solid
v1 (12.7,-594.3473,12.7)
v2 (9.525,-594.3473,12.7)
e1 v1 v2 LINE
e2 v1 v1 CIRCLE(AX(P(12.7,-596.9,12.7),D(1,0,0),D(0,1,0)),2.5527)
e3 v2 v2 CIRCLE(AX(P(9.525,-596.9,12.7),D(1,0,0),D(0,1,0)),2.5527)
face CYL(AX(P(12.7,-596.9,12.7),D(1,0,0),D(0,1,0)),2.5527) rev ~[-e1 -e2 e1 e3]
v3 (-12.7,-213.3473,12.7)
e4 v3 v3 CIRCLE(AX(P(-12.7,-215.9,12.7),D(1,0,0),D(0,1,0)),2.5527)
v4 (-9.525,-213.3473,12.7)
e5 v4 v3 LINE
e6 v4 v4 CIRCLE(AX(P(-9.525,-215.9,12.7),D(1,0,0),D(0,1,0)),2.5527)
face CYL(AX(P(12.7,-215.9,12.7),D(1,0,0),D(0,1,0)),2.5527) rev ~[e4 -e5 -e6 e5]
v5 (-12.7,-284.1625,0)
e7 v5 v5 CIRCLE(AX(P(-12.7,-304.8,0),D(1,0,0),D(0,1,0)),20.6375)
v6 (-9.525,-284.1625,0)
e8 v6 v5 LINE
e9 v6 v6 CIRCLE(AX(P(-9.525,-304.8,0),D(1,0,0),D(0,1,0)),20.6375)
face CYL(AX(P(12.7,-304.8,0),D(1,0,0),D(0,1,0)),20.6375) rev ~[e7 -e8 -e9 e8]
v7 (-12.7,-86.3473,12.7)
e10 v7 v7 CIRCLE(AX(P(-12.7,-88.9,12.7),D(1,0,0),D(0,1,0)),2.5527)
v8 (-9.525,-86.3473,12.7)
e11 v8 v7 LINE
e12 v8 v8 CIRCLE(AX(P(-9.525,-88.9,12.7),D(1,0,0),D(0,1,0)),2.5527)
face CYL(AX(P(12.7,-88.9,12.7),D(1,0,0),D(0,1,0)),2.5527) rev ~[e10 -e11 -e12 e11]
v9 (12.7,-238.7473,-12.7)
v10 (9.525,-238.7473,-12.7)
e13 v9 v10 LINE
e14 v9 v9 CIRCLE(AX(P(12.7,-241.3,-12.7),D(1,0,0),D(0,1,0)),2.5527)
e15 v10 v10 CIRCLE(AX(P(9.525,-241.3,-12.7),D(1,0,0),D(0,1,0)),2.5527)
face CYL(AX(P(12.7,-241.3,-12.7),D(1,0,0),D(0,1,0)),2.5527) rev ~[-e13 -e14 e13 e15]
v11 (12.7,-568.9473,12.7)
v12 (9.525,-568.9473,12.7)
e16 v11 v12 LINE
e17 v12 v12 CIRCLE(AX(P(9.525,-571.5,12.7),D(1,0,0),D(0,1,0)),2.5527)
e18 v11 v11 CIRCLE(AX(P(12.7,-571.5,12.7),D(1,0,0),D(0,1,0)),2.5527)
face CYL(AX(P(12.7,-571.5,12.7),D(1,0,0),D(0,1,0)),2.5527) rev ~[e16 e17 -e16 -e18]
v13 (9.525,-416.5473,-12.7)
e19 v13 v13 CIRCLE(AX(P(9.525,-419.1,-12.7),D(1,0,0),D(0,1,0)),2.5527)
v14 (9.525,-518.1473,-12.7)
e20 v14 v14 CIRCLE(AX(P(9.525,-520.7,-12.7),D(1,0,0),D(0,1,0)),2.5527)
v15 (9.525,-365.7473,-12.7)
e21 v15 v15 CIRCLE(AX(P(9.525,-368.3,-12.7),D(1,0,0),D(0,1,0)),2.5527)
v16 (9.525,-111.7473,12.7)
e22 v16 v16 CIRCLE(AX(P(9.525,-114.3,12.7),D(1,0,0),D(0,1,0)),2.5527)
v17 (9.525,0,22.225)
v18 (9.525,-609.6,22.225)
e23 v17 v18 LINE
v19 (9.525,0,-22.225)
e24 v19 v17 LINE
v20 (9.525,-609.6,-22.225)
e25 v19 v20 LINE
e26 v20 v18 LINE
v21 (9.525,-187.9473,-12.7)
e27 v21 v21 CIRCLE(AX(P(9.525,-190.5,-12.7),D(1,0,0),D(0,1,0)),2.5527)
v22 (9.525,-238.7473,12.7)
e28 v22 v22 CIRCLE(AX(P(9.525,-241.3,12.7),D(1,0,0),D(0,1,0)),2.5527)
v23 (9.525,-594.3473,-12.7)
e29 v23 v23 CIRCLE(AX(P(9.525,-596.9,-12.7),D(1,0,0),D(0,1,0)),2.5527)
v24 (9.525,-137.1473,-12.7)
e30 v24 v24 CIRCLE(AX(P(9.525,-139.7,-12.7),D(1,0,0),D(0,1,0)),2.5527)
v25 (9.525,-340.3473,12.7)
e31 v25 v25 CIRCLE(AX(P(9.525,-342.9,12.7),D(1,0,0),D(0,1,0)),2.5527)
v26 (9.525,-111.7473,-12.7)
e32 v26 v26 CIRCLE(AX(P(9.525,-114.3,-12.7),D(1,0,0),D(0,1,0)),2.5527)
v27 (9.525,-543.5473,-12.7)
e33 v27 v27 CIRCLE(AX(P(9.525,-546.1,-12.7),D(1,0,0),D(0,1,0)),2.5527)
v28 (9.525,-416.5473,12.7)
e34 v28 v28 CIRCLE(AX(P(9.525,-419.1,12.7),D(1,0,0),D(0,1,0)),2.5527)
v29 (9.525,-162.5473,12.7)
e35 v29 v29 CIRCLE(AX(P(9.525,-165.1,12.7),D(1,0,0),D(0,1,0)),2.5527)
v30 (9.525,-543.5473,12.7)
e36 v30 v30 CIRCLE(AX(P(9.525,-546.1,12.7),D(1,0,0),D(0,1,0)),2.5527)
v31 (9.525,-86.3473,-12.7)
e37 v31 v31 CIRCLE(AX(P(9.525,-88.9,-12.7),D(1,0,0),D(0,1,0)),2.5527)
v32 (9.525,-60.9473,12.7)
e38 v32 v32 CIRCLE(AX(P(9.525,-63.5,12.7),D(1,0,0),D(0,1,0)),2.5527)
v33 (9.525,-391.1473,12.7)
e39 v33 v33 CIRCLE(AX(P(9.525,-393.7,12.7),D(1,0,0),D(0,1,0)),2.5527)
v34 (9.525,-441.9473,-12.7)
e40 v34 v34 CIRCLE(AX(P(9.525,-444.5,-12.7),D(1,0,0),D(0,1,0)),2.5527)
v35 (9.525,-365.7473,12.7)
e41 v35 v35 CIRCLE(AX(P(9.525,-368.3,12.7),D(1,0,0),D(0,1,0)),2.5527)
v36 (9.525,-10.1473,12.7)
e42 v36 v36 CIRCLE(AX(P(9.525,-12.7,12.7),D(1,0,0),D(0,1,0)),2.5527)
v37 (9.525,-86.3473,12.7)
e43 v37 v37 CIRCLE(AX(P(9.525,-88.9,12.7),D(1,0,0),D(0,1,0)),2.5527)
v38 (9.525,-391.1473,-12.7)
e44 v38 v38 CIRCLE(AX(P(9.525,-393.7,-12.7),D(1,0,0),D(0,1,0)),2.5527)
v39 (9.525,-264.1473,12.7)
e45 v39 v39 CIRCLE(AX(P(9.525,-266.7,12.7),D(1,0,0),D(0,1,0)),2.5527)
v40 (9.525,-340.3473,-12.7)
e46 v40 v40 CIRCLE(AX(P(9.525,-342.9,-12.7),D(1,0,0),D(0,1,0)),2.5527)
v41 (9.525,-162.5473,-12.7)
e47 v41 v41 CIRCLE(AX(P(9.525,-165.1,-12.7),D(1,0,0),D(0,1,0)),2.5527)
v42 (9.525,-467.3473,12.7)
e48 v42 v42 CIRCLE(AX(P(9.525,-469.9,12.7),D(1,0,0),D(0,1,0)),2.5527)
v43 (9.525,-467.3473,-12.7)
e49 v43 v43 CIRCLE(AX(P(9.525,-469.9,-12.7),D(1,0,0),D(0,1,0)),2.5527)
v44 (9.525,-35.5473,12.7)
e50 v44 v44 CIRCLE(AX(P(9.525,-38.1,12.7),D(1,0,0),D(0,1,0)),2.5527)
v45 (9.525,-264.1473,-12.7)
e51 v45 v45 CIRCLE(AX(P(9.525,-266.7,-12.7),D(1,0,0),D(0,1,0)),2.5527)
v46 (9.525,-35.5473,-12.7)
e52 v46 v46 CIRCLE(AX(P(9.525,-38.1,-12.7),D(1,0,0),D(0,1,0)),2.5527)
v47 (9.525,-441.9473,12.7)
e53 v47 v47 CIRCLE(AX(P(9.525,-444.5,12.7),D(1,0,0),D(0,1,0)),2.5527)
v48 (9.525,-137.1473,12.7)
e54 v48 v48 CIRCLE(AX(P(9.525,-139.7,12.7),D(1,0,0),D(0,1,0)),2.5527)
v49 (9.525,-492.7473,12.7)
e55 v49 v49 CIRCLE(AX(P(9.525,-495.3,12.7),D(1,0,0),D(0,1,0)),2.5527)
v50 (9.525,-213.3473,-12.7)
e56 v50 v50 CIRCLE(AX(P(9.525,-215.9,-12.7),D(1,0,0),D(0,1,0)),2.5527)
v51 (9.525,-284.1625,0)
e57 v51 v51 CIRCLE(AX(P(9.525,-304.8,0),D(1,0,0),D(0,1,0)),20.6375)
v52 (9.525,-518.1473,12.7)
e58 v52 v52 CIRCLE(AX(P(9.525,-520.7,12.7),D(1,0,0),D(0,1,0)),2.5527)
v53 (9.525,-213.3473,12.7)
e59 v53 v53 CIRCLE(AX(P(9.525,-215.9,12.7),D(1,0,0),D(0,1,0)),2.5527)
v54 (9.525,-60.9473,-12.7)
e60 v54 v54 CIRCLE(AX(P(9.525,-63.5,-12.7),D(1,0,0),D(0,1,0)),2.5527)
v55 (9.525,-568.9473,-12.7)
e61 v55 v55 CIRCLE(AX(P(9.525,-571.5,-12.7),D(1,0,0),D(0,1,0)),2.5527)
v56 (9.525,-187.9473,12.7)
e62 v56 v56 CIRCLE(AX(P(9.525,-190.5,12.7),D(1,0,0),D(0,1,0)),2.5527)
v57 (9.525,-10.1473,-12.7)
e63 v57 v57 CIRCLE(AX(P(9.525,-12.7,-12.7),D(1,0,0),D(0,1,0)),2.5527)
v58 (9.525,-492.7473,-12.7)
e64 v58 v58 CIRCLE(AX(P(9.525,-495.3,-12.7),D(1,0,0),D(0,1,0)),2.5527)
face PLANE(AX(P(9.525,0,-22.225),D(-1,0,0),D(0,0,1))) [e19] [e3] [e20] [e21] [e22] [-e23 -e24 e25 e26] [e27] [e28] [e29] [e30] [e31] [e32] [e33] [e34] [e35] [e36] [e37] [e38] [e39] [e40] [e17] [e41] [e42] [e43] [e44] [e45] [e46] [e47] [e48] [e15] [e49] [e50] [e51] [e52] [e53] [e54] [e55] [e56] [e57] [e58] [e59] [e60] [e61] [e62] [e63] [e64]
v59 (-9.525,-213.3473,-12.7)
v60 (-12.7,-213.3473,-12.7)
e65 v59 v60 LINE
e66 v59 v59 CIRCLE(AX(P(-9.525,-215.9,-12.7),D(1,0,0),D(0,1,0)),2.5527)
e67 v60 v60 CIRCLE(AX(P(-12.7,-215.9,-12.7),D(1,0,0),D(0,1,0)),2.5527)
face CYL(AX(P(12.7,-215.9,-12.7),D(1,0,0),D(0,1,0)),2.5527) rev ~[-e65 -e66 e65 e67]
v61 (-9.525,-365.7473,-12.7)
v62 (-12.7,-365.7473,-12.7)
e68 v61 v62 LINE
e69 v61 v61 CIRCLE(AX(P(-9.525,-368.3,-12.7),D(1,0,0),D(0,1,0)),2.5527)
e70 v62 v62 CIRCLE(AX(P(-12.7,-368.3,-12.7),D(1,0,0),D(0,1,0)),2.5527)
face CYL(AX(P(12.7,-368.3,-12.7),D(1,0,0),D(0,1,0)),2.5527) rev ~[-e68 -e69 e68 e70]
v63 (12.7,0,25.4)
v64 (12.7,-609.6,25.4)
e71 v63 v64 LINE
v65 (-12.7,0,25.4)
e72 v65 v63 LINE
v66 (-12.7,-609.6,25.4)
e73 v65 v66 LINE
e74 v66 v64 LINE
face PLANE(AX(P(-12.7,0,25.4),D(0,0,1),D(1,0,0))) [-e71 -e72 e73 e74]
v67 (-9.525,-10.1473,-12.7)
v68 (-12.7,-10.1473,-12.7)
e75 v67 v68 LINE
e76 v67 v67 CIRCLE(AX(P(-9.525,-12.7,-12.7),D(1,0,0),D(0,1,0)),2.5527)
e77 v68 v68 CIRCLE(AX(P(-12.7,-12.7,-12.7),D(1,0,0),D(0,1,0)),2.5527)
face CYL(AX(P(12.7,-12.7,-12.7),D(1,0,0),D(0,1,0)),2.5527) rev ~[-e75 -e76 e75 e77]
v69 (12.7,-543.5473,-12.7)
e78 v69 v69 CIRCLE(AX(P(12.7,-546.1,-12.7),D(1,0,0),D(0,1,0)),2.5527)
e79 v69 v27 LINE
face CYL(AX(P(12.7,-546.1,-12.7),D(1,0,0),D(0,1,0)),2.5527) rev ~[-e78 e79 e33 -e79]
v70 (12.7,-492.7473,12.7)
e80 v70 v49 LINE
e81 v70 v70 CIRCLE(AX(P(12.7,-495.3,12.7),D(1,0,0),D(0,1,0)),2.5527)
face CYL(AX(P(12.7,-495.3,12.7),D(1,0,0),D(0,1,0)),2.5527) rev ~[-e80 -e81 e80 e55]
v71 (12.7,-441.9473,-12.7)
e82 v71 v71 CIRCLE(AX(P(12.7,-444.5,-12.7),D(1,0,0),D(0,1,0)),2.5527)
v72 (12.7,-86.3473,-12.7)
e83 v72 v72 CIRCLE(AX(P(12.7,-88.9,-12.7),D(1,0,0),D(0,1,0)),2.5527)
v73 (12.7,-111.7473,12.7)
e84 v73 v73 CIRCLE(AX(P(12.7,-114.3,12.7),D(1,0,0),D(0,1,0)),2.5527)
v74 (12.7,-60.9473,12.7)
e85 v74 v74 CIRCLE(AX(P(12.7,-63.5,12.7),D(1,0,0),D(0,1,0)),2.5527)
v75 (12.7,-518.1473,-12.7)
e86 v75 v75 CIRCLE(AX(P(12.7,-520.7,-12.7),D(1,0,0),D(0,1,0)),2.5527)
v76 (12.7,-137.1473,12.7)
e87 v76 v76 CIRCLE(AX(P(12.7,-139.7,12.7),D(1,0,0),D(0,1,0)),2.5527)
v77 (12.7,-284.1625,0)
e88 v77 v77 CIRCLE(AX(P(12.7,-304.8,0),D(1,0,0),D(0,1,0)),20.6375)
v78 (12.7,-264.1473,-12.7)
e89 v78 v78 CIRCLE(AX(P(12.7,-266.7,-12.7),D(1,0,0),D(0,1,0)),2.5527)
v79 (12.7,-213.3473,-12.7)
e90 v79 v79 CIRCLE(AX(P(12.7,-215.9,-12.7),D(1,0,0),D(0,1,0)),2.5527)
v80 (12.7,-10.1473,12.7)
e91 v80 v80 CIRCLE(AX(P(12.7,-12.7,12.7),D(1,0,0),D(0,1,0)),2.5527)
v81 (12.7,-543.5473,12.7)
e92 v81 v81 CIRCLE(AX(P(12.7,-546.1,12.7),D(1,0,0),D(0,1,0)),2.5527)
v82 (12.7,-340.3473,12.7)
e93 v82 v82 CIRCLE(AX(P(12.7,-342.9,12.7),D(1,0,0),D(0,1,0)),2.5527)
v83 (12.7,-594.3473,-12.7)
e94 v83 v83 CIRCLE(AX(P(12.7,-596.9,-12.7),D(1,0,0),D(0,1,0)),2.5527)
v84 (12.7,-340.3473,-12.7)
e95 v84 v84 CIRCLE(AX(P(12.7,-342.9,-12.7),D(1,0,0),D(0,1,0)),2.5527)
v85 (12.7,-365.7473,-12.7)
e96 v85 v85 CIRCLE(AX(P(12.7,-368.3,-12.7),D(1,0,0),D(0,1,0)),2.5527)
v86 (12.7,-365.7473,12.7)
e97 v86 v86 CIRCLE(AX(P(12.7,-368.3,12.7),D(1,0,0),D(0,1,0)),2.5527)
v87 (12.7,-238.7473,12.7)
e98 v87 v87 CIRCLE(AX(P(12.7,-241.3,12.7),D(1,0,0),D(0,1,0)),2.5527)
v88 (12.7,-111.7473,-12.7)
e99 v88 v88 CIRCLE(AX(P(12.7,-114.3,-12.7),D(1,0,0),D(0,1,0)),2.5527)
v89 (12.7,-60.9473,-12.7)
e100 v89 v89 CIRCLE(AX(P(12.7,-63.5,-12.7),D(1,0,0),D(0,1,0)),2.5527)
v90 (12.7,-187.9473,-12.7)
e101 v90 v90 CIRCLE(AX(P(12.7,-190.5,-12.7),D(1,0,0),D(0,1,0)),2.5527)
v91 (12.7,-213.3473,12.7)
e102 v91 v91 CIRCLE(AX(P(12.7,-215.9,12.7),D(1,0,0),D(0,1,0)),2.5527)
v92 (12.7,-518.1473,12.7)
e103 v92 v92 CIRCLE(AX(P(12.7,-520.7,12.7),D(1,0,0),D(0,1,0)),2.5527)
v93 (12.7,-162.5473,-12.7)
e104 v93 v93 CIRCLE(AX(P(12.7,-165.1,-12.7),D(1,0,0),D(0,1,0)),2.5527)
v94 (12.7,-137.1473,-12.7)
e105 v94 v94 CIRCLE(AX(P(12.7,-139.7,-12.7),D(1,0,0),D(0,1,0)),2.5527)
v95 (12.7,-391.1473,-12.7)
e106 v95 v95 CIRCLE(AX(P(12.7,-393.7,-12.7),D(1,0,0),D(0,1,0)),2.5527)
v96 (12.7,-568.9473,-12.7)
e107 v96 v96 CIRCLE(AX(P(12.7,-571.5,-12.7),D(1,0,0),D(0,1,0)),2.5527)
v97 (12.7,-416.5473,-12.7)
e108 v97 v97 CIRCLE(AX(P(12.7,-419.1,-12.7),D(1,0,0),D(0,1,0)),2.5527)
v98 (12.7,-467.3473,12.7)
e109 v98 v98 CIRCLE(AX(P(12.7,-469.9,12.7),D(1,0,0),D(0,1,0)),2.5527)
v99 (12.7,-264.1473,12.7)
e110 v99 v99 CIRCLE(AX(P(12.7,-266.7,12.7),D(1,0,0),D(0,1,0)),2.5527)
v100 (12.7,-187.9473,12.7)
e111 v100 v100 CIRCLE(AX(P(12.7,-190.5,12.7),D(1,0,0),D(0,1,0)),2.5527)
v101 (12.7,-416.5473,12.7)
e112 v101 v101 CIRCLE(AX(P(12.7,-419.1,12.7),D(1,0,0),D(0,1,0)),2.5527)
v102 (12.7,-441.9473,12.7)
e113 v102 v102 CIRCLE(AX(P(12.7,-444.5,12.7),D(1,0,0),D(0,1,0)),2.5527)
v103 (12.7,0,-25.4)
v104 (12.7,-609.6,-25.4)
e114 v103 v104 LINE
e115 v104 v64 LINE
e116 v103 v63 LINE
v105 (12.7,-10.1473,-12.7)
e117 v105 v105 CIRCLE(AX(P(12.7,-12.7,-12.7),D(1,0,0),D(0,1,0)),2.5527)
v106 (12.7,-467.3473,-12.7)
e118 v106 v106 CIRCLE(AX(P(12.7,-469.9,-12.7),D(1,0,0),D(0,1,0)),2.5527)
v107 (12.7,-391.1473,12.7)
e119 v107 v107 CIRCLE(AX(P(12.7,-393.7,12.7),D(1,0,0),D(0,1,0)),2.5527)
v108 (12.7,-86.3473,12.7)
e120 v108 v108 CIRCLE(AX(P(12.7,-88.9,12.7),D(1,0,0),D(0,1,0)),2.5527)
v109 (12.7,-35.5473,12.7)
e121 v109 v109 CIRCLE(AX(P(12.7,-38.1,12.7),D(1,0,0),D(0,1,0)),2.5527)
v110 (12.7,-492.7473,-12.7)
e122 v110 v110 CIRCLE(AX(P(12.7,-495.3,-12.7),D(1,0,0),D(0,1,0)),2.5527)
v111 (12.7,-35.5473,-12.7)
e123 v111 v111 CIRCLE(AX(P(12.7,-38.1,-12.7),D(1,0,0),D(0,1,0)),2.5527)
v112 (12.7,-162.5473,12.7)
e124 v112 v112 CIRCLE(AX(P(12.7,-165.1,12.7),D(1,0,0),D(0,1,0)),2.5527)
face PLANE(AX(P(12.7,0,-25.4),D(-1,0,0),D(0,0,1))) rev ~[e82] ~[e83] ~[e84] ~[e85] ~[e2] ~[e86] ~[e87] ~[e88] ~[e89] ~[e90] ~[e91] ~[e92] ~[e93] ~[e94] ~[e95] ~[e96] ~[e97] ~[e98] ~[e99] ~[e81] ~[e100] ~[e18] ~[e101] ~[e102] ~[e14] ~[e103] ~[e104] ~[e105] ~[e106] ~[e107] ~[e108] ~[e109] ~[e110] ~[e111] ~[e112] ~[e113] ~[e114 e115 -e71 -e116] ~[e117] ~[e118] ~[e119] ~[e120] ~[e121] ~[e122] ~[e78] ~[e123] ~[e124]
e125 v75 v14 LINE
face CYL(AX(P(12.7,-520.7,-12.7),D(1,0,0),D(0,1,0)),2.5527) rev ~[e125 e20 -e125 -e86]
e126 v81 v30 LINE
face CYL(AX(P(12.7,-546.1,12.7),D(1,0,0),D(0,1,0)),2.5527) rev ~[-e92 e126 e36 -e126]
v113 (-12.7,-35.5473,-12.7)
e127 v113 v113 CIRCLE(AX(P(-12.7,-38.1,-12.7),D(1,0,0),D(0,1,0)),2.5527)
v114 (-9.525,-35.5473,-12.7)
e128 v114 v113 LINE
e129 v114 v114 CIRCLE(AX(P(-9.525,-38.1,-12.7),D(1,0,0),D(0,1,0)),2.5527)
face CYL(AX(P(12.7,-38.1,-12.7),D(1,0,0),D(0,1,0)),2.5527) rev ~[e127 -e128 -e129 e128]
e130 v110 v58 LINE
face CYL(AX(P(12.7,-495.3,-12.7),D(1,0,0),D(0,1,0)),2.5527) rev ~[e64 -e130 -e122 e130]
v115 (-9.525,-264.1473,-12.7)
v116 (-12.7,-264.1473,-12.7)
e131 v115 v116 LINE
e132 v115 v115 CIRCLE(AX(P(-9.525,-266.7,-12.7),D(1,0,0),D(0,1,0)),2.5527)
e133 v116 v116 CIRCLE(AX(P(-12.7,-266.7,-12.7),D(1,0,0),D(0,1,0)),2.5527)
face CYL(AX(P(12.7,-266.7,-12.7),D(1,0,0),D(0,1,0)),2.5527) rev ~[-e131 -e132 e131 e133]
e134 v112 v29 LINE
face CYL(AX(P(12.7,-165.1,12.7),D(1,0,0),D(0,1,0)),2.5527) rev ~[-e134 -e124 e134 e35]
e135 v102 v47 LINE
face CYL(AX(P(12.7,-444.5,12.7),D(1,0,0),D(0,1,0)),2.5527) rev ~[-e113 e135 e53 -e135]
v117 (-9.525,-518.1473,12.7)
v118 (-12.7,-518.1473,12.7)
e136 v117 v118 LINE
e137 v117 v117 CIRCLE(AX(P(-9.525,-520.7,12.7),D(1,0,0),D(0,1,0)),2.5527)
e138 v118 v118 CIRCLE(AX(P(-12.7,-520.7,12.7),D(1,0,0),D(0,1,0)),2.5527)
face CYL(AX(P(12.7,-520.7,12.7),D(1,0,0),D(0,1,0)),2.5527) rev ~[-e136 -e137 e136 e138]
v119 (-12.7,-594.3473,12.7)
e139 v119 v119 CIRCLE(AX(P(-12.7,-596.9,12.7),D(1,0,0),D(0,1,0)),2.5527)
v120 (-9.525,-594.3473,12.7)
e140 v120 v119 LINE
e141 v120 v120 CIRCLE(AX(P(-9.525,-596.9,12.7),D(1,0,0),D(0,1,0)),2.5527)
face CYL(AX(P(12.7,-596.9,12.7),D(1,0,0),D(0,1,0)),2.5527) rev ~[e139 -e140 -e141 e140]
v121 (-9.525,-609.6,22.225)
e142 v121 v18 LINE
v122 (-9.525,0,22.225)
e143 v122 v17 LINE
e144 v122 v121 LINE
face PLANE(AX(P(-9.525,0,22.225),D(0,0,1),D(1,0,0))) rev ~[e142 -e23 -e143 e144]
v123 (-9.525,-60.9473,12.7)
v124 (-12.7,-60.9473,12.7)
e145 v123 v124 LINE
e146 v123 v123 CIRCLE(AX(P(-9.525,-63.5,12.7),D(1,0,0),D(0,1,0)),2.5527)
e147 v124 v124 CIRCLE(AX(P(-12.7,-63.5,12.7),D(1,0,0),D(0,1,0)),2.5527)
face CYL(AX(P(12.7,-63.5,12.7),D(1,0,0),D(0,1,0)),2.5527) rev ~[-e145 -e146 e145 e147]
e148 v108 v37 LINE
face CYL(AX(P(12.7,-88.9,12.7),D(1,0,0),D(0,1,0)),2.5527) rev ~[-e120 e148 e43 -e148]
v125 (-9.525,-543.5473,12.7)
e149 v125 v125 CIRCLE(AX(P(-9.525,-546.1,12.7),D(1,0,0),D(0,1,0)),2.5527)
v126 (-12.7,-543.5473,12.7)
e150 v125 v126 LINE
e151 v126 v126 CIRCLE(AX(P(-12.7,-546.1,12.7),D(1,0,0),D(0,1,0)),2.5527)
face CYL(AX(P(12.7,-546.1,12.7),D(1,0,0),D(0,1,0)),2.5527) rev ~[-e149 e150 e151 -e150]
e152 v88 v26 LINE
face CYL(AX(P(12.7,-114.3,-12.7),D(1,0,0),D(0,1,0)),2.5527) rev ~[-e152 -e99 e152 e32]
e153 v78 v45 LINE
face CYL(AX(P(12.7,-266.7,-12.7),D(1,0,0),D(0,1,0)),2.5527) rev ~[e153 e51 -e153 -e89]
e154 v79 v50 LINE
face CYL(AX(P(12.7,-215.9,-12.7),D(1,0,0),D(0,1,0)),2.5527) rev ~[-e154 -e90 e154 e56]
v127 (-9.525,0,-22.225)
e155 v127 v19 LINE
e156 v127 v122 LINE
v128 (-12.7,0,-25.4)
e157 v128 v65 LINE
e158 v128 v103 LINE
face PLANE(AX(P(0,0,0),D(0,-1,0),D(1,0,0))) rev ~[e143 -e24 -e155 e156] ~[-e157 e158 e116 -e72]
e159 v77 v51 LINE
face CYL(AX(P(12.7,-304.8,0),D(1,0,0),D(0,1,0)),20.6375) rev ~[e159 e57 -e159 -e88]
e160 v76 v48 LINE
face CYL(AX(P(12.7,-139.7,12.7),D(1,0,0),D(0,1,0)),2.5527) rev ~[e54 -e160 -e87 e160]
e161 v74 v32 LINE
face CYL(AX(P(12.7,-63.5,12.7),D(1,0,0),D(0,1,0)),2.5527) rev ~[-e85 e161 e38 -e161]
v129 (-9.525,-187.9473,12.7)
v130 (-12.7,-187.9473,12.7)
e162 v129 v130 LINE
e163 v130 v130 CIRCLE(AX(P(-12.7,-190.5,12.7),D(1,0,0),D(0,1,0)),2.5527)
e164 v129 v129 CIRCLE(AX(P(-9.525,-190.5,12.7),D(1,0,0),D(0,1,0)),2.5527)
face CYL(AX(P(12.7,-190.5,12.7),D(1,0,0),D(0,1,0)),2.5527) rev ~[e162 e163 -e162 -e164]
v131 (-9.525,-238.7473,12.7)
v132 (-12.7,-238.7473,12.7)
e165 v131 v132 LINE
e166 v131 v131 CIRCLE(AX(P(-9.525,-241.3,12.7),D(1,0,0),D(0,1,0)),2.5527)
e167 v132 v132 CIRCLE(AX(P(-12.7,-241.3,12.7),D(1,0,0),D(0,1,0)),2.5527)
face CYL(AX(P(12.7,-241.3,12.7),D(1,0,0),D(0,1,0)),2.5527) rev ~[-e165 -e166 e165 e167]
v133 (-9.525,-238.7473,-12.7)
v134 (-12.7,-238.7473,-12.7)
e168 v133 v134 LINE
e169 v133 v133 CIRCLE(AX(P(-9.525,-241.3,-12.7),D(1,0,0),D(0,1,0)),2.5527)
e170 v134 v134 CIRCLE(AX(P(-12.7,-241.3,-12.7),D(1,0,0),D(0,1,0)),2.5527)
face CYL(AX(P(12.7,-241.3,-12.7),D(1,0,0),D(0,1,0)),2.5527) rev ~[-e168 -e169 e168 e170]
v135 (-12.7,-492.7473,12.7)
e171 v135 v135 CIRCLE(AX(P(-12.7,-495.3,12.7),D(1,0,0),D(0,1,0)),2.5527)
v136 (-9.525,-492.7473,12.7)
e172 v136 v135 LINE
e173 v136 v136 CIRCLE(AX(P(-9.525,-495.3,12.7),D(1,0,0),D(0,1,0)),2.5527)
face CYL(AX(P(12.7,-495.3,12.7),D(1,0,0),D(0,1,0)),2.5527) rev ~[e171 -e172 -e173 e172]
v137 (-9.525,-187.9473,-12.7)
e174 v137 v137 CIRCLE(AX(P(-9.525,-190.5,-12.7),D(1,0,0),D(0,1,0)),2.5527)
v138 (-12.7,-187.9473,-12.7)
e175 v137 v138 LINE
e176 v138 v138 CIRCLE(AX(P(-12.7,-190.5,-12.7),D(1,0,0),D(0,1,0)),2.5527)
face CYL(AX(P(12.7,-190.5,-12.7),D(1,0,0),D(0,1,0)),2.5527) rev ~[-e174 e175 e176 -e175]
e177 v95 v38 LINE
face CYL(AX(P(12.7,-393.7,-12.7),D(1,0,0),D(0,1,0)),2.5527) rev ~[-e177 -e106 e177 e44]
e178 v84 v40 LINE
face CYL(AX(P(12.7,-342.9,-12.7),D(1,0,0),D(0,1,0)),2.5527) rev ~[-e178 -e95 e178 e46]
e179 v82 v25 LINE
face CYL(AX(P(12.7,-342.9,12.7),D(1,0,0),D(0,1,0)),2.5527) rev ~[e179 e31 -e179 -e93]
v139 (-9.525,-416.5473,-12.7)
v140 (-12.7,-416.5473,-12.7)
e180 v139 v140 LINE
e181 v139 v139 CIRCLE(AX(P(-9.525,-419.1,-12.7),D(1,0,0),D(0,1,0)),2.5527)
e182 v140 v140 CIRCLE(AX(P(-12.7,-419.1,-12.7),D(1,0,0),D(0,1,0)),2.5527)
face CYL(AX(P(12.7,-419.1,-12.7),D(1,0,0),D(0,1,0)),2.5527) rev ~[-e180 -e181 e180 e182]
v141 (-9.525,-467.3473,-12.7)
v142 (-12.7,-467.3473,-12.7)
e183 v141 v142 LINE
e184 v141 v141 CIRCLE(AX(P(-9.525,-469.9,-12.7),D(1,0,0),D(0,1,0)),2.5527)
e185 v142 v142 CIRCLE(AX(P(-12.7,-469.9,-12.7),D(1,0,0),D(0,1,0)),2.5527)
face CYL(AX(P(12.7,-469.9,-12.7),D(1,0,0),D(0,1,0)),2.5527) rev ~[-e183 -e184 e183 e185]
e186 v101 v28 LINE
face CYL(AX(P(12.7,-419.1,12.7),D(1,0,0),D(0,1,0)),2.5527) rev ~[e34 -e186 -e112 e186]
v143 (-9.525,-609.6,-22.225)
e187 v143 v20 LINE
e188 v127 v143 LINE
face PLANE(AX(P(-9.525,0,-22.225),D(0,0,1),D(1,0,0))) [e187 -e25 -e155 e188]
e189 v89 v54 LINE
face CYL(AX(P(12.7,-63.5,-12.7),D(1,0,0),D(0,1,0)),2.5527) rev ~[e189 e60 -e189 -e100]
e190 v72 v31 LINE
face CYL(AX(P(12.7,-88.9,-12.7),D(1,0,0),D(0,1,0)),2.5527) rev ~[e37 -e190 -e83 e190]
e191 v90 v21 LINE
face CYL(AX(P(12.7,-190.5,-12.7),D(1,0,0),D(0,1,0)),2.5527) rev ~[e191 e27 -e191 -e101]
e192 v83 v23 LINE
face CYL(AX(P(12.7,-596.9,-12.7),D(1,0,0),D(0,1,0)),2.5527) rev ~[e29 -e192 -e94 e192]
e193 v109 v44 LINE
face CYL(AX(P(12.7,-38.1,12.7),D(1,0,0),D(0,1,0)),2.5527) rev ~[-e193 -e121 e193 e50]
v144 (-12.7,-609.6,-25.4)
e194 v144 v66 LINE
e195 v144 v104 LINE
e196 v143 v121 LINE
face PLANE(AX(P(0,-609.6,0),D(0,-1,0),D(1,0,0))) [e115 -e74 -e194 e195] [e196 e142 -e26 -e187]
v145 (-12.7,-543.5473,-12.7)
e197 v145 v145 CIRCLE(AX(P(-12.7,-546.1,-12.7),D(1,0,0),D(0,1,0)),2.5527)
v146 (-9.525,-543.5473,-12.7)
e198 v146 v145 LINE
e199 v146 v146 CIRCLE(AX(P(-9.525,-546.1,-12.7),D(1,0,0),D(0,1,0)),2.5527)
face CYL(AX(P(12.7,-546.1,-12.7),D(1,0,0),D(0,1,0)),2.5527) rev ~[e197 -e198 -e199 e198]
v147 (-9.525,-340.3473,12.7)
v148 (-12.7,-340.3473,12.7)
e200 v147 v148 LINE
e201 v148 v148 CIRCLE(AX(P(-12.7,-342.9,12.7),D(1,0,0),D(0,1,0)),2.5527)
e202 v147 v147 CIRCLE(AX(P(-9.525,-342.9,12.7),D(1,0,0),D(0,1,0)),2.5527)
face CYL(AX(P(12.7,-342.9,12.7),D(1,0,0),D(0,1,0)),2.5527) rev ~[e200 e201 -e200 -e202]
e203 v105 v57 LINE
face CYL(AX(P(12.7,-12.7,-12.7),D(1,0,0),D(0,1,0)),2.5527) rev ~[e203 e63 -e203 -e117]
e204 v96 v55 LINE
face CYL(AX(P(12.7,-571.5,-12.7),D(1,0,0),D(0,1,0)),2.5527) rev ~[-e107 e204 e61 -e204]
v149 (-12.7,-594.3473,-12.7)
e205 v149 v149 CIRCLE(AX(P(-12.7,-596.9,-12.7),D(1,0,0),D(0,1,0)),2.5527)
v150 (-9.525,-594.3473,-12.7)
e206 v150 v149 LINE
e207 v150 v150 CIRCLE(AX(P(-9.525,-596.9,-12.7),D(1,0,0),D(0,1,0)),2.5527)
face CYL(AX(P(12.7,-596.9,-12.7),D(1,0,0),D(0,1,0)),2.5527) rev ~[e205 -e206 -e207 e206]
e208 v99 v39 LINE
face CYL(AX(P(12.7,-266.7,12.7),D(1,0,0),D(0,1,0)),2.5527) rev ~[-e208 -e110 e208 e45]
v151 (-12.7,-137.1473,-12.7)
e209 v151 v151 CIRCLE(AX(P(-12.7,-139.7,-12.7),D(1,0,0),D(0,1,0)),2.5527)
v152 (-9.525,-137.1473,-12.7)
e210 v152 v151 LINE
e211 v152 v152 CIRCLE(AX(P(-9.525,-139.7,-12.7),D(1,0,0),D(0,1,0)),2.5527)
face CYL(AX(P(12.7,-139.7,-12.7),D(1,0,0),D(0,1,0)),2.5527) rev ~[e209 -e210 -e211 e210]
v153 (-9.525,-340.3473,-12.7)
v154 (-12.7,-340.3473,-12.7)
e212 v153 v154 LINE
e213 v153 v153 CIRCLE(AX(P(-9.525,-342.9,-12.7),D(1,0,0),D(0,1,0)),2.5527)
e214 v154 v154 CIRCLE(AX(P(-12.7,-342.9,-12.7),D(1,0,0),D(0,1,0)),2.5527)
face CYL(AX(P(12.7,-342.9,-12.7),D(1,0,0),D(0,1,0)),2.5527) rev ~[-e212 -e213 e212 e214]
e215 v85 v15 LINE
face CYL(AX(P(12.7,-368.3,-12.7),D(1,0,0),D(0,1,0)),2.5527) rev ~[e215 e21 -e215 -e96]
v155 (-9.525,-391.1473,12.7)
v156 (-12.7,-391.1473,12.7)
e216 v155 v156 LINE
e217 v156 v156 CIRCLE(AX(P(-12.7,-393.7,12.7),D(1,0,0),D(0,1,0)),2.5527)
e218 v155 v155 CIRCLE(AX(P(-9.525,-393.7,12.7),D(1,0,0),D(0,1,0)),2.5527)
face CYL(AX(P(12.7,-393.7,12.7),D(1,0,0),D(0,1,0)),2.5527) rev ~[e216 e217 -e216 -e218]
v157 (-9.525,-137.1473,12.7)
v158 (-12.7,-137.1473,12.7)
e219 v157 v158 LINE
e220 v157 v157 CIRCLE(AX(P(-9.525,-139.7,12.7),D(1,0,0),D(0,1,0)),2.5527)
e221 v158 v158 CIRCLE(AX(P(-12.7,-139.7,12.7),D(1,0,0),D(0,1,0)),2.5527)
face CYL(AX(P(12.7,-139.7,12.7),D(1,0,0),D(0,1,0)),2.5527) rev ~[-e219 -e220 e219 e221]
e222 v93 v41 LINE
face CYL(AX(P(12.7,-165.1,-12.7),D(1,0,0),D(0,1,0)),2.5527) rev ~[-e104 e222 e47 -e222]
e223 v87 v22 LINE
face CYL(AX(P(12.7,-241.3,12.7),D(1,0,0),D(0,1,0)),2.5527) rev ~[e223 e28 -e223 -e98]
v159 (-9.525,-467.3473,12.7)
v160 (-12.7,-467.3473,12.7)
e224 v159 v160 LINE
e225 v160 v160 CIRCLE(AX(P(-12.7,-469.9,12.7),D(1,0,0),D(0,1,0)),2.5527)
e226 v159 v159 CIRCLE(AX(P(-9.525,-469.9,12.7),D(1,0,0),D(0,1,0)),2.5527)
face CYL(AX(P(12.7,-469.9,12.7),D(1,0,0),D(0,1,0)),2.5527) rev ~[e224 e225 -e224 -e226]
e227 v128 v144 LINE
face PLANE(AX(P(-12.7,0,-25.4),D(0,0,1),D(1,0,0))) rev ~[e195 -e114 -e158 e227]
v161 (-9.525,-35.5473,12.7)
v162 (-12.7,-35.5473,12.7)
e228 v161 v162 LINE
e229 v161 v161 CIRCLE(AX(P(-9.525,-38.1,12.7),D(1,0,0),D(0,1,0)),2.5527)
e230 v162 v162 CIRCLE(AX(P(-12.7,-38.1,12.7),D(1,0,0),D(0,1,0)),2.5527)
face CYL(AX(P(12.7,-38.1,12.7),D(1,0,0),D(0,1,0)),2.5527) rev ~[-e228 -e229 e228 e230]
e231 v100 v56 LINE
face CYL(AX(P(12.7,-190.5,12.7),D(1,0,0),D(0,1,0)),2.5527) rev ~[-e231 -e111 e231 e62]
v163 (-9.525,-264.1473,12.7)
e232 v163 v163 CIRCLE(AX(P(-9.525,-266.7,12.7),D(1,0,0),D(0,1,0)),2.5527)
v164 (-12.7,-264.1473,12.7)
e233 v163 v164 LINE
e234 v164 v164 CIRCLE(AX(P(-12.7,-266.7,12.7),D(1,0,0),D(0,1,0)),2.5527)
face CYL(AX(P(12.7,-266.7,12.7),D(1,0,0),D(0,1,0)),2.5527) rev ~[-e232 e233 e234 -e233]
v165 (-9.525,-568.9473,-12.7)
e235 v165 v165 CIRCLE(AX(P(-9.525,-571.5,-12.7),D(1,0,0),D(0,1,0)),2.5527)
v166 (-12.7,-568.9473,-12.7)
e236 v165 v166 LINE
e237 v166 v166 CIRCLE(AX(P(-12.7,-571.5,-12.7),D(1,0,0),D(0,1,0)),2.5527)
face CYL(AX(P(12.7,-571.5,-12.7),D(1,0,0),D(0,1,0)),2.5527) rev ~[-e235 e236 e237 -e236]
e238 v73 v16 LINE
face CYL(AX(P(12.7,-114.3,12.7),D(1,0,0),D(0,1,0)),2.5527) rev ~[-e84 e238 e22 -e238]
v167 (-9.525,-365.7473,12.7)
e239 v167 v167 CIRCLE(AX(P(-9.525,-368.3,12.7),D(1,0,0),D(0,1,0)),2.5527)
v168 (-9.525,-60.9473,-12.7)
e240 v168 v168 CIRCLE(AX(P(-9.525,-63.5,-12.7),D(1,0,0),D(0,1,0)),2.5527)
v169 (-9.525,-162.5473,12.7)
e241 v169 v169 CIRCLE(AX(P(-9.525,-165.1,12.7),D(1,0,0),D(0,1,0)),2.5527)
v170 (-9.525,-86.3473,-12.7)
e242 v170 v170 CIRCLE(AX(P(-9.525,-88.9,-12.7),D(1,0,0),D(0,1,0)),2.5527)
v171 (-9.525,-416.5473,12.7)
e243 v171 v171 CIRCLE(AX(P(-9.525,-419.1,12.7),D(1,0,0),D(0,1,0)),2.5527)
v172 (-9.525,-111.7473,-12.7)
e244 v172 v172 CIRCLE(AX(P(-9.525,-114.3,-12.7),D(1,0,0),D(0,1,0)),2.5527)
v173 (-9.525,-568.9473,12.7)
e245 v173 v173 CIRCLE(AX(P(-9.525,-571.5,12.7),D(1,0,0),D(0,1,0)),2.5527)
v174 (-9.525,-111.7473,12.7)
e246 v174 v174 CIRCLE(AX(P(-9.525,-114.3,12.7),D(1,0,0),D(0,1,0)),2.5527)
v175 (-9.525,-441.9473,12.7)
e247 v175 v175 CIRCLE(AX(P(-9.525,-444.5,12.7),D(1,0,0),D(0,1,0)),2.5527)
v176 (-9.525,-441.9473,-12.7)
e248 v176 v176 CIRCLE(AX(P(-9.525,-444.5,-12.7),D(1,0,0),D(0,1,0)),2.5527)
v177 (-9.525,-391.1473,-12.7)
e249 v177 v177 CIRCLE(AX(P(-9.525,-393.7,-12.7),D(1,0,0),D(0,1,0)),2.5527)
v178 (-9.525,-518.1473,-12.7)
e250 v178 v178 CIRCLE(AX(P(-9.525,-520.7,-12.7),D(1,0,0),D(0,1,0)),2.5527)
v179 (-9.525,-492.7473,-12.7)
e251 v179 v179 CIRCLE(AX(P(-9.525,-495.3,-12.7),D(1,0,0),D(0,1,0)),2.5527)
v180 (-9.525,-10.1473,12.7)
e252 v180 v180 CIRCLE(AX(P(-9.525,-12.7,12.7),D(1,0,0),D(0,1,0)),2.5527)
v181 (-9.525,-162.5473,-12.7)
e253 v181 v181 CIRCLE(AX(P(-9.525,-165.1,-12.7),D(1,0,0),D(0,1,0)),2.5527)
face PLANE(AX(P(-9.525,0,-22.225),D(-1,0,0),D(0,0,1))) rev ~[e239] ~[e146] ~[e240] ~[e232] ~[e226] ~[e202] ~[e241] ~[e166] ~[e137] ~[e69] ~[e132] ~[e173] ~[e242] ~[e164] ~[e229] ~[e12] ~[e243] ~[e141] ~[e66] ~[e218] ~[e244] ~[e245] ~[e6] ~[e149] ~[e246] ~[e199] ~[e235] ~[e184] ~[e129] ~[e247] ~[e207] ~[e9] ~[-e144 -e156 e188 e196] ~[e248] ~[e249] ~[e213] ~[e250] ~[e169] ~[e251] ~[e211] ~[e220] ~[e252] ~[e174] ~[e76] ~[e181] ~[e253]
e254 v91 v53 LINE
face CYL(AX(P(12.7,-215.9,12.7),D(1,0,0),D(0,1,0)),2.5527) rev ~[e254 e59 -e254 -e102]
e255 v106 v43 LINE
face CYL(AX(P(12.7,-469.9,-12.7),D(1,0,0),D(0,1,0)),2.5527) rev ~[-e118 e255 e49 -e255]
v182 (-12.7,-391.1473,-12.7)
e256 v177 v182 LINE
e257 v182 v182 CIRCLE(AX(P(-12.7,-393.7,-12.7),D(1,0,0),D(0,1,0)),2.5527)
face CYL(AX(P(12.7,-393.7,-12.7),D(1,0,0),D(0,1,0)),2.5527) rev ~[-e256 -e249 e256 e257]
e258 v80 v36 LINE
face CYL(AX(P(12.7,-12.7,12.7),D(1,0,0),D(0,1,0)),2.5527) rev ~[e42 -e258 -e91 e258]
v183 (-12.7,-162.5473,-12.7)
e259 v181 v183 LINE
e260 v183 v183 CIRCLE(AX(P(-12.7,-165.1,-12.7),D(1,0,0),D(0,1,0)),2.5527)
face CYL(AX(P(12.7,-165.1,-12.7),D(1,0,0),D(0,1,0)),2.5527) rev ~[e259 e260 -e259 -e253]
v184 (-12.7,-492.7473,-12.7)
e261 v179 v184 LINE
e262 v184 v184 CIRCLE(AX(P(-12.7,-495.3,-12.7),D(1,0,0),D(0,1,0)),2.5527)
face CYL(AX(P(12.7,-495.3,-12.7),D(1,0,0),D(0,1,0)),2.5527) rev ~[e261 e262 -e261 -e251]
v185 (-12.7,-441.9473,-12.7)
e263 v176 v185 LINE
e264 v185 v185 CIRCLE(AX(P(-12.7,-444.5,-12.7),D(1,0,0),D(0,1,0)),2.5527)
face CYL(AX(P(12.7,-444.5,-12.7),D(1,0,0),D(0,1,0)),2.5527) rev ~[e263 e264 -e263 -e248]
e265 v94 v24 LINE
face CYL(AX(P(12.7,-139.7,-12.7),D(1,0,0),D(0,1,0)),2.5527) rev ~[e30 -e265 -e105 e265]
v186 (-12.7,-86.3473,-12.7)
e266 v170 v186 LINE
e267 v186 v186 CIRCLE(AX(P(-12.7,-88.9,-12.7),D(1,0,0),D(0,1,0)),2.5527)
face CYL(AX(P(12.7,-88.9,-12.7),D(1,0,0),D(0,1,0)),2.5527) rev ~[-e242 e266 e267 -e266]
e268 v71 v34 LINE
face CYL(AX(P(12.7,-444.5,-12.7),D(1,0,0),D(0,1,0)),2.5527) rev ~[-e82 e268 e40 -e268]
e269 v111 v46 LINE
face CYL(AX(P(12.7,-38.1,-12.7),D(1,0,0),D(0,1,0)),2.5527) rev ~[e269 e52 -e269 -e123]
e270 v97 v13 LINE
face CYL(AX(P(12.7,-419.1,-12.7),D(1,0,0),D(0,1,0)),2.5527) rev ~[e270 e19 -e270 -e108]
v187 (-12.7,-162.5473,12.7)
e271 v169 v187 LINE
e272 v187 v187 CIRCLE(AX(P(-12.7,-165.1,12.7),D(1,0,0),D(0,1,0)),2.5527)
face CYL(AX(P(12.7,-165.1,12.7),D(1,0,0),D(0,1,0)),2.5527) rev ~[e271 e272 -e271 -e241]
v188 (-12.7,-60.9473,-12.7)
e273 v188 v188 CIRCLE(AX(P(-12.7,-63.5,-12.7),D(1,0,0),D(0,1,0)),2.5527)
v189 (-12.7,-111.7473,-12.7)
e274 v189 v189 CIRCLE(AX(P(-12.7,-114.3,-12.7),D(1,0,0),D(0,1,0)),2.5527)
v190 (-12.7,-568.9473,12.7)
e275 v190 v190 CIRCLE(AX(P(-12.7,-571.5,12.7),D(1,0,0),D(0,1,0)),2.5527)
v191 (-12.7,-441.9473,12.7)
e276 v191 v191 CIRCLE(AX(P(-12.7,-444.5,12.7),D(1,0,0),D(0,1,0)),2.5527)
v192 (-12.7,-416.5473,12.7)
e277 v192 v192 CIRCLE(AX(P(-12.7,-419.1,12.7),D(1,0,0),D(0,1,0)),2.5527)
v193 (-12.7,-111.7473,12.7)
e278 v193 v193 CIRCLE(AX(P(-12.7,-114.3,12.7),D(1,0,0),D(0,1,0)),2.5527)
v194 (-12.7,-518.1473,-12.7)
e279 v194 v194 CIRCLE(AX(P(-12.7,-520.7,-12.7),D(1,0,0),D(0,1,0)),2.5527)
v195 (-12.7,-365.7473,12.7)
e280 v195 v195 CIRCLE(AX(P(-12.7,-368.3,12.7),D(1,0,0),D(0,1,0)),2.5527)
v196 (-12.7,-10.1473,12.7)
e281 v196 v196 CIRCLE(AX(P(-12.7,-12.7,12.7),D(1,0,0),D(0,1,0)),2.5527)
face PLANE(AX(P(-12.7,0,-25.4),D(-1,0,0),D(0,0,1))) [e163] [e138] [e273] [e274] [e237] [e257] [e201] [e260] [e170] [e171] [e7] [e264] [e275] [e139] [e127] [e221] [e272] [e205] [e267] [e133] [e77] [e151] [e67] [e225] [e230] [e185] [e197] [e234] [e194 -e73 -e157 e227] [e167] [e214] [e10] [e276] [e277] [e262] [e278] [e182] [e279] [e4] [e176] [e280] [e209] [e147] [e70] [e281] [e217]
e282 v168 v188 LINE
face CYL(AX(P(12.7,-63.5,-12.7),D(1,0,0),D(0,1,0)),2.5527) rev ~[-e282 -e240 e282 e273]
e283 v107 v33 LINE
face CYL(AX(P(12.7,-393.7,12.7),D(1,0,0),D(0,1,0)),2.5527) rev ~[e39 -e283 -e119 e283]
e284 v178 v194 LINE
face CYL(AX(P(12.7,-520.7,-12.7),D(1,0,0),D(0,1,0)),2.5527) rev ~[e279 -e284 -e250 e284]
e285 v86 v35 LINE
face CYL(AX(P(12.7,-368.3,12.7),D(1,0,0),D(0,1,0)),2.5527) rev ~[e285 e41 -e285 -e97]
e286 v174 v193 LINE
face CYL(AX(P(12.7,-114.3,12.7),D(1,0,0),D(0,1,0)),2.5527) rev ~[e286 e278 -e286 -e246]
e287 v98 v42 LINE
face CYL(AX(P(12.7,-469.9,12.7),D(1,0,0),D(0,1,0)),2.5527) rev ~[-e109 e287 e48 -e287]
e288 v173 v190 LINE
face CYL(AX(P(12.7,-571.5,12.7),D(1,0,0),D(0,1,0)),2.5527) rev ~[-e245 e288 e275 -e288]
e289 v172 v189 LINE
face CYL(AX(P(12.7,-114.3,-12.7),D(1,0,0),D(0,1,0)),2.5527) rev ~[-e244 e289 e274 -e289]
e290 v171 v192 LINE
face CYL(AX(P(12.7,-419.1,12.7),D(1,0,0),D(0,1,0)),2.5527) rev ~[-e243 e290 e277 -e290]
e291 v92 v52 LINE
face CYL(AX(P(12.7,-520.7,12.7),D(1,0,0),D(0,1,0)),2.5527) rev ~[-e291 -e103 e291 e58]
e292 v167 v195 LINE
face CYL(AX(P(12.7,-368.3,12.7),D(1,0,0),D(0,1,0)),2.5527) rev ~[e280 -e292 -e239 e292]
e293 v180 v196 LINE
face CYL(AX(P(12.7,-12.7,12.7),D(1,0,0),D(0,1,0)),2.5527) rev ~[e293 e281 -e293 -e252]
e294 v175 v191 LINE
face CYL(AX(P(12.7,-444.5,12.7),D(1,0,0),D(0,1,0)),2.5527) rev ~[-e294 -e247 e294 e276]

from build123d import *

# Parameters (mm, degrees)
F0_W     = 25.4
F0_H     = 50.8
F0_W_2   = 19.05
F0_H_2   = 44.45
F1_DEPTH = 609.6
F2_R     = 2.5527
F3_DEPTH = 25.4
F4_R     = 20.6375
F5_DEPTH = 25.4


with BuildPart() as f1:
    # F0 (on Front) → F1 (new body)
    with BuildSketch(Plane.XZ):
        Rectangle(F0_W, F0_H)
        Rectangle(F0_W_2, F0_H_2, mode=Mode.SUBTRACT)
    extrude(amount=F1_DEPTH)

    # F2 (on face) → F3 (cut)
    with BuildSketch(Plane.YZ.offset(12.7)):
        with Locations((-596.9, 12.7)):
            Circle(F2_R)
        with Locations((-596.9, -12.7)):
            Circle(F2_R)
        with Locations((-571.5, 12.7)):
            Circle(F2_R)
        with Locations((-571.5, -12.7)):
            Circle(F2_R)
        with Locations((-546.1, 12.7)):
            Circle(F2_R)
        with Locations((-546.1, -12.7)):
            Circle(F2_R)
        with Locations((-520.7, 12.7)):
            Circle(F2_R)
        with Locations((-520.7, -12.7)):
            Circle(F2_R)
        with Locations((-495.3, 12.7)):
            Circle(F2_R)
        with Locations((-495.3, -12.7)):
            Circle(F2_R)
        with Locations((-469.9, 12.7)):
            Circle(F2_R)
        with Locations((-469.9, -12.7)):
            Circle(F2_R)
        with Locations((-444.5, 12.7)):
            Circle(F2_R)
        with Locations((-444.5, -12.7)):
            Circle(F2_R)
        with Locations((-419.1, 12.7)):
            Circle(F2_R)
        with Locations((-419.1, -12.7)):
            Circle(F2_R)
        with Locations((-393.7, 12.7)):
            Circle(F2_R)
        with Locations((-393.7, -12.7)):
            Circle(F2_R)
        with Locations((-368.3, 12.7)):
            Circle(F2_R)
        with Locations((-368.3, -12.7)):
            Circle(F2_R)
        with Locations((-342.9, 12.7)):
            Circle(F2_R)
        with Locations((-342.9, -12.7)):
            Circle(F2_R)
        with Locations((-317.5, 12.7)):
            Circle(F2_R)
        with Locations((-317.5, -12.7)):
            Circle(F2_R)
        with Locations((-292.1, 12.7)):
            Circle(F2_R)
        with Locations((-292.1, -12.7)):
            Circle(F2_R)
        with Locations((-266.7, 12.7)):
            Circle(F2_R)
        with Locations((-266.7, -12.7)):
            Circle(F2_R)
        with Locations((-241.3, 12.7)):
            Circle(F2_R)
        with Locations((-241.3, -12.7)):
            Circle(F2_R)
        with Locations((-215.9, 12.7)):
            Circle(F2_R)
        with Locations((-215.9, -12.7)):
            Circle(F2_R)
        with Locations((-190.5, 12.7)):
            Circle(F2_R)
        with Locations((-190.5, -12.7)):
            Circle(F2_R)
        with Locations((-165.1, 12.7)):
            Circle(F2_R)
        with Locations((-165.1, -12.7)):
            Circle(F2_R)
        with Locations((-139.7, 12.7)):
            Circle(F2_R)
        with Locations((-139.7, -12.7)):
            Circle(F2_R)
        with Locations((-114.3, 12.7)):
            Circle(F2_R)
        with Locations((-114.3, -12.7)):
            Circle(F2_R)
        with Locations((-88.9, 12.7)):
            Circle(F2_R)
        with Locations((-88.9, -12.7)):
            Circle(F2_R)
        with Locations((-63.5, 12.7)):
            Circle(F2_R)
        with Locations((-63.5, -12.7)):
            Circle(F2_R)
        with Locations((-38.1, 12.7)):
            Circle(F2_R)
        with Locations((-38.1, -12.7)):
            Circle(F2_R)
        with Locations((-12.7, 12.7)):
            Circle(F2_R)
        with Locations((-12.7, -12.7)):
            Circle(F2_R)
    extrude(amount=-F3_DEPTH, mode=Mode.SUBTRACT)

    # F4 (on face) → F5 (cut)
    with BuildSketch(Plane.YZ.offset(12.7)):
        with Locations((-304.8, 0)):
            Circle(F4_R)
    extrude(amount=-F5_DEPTH, mode=Mode.SUBTRACT)


solid = f1.part
